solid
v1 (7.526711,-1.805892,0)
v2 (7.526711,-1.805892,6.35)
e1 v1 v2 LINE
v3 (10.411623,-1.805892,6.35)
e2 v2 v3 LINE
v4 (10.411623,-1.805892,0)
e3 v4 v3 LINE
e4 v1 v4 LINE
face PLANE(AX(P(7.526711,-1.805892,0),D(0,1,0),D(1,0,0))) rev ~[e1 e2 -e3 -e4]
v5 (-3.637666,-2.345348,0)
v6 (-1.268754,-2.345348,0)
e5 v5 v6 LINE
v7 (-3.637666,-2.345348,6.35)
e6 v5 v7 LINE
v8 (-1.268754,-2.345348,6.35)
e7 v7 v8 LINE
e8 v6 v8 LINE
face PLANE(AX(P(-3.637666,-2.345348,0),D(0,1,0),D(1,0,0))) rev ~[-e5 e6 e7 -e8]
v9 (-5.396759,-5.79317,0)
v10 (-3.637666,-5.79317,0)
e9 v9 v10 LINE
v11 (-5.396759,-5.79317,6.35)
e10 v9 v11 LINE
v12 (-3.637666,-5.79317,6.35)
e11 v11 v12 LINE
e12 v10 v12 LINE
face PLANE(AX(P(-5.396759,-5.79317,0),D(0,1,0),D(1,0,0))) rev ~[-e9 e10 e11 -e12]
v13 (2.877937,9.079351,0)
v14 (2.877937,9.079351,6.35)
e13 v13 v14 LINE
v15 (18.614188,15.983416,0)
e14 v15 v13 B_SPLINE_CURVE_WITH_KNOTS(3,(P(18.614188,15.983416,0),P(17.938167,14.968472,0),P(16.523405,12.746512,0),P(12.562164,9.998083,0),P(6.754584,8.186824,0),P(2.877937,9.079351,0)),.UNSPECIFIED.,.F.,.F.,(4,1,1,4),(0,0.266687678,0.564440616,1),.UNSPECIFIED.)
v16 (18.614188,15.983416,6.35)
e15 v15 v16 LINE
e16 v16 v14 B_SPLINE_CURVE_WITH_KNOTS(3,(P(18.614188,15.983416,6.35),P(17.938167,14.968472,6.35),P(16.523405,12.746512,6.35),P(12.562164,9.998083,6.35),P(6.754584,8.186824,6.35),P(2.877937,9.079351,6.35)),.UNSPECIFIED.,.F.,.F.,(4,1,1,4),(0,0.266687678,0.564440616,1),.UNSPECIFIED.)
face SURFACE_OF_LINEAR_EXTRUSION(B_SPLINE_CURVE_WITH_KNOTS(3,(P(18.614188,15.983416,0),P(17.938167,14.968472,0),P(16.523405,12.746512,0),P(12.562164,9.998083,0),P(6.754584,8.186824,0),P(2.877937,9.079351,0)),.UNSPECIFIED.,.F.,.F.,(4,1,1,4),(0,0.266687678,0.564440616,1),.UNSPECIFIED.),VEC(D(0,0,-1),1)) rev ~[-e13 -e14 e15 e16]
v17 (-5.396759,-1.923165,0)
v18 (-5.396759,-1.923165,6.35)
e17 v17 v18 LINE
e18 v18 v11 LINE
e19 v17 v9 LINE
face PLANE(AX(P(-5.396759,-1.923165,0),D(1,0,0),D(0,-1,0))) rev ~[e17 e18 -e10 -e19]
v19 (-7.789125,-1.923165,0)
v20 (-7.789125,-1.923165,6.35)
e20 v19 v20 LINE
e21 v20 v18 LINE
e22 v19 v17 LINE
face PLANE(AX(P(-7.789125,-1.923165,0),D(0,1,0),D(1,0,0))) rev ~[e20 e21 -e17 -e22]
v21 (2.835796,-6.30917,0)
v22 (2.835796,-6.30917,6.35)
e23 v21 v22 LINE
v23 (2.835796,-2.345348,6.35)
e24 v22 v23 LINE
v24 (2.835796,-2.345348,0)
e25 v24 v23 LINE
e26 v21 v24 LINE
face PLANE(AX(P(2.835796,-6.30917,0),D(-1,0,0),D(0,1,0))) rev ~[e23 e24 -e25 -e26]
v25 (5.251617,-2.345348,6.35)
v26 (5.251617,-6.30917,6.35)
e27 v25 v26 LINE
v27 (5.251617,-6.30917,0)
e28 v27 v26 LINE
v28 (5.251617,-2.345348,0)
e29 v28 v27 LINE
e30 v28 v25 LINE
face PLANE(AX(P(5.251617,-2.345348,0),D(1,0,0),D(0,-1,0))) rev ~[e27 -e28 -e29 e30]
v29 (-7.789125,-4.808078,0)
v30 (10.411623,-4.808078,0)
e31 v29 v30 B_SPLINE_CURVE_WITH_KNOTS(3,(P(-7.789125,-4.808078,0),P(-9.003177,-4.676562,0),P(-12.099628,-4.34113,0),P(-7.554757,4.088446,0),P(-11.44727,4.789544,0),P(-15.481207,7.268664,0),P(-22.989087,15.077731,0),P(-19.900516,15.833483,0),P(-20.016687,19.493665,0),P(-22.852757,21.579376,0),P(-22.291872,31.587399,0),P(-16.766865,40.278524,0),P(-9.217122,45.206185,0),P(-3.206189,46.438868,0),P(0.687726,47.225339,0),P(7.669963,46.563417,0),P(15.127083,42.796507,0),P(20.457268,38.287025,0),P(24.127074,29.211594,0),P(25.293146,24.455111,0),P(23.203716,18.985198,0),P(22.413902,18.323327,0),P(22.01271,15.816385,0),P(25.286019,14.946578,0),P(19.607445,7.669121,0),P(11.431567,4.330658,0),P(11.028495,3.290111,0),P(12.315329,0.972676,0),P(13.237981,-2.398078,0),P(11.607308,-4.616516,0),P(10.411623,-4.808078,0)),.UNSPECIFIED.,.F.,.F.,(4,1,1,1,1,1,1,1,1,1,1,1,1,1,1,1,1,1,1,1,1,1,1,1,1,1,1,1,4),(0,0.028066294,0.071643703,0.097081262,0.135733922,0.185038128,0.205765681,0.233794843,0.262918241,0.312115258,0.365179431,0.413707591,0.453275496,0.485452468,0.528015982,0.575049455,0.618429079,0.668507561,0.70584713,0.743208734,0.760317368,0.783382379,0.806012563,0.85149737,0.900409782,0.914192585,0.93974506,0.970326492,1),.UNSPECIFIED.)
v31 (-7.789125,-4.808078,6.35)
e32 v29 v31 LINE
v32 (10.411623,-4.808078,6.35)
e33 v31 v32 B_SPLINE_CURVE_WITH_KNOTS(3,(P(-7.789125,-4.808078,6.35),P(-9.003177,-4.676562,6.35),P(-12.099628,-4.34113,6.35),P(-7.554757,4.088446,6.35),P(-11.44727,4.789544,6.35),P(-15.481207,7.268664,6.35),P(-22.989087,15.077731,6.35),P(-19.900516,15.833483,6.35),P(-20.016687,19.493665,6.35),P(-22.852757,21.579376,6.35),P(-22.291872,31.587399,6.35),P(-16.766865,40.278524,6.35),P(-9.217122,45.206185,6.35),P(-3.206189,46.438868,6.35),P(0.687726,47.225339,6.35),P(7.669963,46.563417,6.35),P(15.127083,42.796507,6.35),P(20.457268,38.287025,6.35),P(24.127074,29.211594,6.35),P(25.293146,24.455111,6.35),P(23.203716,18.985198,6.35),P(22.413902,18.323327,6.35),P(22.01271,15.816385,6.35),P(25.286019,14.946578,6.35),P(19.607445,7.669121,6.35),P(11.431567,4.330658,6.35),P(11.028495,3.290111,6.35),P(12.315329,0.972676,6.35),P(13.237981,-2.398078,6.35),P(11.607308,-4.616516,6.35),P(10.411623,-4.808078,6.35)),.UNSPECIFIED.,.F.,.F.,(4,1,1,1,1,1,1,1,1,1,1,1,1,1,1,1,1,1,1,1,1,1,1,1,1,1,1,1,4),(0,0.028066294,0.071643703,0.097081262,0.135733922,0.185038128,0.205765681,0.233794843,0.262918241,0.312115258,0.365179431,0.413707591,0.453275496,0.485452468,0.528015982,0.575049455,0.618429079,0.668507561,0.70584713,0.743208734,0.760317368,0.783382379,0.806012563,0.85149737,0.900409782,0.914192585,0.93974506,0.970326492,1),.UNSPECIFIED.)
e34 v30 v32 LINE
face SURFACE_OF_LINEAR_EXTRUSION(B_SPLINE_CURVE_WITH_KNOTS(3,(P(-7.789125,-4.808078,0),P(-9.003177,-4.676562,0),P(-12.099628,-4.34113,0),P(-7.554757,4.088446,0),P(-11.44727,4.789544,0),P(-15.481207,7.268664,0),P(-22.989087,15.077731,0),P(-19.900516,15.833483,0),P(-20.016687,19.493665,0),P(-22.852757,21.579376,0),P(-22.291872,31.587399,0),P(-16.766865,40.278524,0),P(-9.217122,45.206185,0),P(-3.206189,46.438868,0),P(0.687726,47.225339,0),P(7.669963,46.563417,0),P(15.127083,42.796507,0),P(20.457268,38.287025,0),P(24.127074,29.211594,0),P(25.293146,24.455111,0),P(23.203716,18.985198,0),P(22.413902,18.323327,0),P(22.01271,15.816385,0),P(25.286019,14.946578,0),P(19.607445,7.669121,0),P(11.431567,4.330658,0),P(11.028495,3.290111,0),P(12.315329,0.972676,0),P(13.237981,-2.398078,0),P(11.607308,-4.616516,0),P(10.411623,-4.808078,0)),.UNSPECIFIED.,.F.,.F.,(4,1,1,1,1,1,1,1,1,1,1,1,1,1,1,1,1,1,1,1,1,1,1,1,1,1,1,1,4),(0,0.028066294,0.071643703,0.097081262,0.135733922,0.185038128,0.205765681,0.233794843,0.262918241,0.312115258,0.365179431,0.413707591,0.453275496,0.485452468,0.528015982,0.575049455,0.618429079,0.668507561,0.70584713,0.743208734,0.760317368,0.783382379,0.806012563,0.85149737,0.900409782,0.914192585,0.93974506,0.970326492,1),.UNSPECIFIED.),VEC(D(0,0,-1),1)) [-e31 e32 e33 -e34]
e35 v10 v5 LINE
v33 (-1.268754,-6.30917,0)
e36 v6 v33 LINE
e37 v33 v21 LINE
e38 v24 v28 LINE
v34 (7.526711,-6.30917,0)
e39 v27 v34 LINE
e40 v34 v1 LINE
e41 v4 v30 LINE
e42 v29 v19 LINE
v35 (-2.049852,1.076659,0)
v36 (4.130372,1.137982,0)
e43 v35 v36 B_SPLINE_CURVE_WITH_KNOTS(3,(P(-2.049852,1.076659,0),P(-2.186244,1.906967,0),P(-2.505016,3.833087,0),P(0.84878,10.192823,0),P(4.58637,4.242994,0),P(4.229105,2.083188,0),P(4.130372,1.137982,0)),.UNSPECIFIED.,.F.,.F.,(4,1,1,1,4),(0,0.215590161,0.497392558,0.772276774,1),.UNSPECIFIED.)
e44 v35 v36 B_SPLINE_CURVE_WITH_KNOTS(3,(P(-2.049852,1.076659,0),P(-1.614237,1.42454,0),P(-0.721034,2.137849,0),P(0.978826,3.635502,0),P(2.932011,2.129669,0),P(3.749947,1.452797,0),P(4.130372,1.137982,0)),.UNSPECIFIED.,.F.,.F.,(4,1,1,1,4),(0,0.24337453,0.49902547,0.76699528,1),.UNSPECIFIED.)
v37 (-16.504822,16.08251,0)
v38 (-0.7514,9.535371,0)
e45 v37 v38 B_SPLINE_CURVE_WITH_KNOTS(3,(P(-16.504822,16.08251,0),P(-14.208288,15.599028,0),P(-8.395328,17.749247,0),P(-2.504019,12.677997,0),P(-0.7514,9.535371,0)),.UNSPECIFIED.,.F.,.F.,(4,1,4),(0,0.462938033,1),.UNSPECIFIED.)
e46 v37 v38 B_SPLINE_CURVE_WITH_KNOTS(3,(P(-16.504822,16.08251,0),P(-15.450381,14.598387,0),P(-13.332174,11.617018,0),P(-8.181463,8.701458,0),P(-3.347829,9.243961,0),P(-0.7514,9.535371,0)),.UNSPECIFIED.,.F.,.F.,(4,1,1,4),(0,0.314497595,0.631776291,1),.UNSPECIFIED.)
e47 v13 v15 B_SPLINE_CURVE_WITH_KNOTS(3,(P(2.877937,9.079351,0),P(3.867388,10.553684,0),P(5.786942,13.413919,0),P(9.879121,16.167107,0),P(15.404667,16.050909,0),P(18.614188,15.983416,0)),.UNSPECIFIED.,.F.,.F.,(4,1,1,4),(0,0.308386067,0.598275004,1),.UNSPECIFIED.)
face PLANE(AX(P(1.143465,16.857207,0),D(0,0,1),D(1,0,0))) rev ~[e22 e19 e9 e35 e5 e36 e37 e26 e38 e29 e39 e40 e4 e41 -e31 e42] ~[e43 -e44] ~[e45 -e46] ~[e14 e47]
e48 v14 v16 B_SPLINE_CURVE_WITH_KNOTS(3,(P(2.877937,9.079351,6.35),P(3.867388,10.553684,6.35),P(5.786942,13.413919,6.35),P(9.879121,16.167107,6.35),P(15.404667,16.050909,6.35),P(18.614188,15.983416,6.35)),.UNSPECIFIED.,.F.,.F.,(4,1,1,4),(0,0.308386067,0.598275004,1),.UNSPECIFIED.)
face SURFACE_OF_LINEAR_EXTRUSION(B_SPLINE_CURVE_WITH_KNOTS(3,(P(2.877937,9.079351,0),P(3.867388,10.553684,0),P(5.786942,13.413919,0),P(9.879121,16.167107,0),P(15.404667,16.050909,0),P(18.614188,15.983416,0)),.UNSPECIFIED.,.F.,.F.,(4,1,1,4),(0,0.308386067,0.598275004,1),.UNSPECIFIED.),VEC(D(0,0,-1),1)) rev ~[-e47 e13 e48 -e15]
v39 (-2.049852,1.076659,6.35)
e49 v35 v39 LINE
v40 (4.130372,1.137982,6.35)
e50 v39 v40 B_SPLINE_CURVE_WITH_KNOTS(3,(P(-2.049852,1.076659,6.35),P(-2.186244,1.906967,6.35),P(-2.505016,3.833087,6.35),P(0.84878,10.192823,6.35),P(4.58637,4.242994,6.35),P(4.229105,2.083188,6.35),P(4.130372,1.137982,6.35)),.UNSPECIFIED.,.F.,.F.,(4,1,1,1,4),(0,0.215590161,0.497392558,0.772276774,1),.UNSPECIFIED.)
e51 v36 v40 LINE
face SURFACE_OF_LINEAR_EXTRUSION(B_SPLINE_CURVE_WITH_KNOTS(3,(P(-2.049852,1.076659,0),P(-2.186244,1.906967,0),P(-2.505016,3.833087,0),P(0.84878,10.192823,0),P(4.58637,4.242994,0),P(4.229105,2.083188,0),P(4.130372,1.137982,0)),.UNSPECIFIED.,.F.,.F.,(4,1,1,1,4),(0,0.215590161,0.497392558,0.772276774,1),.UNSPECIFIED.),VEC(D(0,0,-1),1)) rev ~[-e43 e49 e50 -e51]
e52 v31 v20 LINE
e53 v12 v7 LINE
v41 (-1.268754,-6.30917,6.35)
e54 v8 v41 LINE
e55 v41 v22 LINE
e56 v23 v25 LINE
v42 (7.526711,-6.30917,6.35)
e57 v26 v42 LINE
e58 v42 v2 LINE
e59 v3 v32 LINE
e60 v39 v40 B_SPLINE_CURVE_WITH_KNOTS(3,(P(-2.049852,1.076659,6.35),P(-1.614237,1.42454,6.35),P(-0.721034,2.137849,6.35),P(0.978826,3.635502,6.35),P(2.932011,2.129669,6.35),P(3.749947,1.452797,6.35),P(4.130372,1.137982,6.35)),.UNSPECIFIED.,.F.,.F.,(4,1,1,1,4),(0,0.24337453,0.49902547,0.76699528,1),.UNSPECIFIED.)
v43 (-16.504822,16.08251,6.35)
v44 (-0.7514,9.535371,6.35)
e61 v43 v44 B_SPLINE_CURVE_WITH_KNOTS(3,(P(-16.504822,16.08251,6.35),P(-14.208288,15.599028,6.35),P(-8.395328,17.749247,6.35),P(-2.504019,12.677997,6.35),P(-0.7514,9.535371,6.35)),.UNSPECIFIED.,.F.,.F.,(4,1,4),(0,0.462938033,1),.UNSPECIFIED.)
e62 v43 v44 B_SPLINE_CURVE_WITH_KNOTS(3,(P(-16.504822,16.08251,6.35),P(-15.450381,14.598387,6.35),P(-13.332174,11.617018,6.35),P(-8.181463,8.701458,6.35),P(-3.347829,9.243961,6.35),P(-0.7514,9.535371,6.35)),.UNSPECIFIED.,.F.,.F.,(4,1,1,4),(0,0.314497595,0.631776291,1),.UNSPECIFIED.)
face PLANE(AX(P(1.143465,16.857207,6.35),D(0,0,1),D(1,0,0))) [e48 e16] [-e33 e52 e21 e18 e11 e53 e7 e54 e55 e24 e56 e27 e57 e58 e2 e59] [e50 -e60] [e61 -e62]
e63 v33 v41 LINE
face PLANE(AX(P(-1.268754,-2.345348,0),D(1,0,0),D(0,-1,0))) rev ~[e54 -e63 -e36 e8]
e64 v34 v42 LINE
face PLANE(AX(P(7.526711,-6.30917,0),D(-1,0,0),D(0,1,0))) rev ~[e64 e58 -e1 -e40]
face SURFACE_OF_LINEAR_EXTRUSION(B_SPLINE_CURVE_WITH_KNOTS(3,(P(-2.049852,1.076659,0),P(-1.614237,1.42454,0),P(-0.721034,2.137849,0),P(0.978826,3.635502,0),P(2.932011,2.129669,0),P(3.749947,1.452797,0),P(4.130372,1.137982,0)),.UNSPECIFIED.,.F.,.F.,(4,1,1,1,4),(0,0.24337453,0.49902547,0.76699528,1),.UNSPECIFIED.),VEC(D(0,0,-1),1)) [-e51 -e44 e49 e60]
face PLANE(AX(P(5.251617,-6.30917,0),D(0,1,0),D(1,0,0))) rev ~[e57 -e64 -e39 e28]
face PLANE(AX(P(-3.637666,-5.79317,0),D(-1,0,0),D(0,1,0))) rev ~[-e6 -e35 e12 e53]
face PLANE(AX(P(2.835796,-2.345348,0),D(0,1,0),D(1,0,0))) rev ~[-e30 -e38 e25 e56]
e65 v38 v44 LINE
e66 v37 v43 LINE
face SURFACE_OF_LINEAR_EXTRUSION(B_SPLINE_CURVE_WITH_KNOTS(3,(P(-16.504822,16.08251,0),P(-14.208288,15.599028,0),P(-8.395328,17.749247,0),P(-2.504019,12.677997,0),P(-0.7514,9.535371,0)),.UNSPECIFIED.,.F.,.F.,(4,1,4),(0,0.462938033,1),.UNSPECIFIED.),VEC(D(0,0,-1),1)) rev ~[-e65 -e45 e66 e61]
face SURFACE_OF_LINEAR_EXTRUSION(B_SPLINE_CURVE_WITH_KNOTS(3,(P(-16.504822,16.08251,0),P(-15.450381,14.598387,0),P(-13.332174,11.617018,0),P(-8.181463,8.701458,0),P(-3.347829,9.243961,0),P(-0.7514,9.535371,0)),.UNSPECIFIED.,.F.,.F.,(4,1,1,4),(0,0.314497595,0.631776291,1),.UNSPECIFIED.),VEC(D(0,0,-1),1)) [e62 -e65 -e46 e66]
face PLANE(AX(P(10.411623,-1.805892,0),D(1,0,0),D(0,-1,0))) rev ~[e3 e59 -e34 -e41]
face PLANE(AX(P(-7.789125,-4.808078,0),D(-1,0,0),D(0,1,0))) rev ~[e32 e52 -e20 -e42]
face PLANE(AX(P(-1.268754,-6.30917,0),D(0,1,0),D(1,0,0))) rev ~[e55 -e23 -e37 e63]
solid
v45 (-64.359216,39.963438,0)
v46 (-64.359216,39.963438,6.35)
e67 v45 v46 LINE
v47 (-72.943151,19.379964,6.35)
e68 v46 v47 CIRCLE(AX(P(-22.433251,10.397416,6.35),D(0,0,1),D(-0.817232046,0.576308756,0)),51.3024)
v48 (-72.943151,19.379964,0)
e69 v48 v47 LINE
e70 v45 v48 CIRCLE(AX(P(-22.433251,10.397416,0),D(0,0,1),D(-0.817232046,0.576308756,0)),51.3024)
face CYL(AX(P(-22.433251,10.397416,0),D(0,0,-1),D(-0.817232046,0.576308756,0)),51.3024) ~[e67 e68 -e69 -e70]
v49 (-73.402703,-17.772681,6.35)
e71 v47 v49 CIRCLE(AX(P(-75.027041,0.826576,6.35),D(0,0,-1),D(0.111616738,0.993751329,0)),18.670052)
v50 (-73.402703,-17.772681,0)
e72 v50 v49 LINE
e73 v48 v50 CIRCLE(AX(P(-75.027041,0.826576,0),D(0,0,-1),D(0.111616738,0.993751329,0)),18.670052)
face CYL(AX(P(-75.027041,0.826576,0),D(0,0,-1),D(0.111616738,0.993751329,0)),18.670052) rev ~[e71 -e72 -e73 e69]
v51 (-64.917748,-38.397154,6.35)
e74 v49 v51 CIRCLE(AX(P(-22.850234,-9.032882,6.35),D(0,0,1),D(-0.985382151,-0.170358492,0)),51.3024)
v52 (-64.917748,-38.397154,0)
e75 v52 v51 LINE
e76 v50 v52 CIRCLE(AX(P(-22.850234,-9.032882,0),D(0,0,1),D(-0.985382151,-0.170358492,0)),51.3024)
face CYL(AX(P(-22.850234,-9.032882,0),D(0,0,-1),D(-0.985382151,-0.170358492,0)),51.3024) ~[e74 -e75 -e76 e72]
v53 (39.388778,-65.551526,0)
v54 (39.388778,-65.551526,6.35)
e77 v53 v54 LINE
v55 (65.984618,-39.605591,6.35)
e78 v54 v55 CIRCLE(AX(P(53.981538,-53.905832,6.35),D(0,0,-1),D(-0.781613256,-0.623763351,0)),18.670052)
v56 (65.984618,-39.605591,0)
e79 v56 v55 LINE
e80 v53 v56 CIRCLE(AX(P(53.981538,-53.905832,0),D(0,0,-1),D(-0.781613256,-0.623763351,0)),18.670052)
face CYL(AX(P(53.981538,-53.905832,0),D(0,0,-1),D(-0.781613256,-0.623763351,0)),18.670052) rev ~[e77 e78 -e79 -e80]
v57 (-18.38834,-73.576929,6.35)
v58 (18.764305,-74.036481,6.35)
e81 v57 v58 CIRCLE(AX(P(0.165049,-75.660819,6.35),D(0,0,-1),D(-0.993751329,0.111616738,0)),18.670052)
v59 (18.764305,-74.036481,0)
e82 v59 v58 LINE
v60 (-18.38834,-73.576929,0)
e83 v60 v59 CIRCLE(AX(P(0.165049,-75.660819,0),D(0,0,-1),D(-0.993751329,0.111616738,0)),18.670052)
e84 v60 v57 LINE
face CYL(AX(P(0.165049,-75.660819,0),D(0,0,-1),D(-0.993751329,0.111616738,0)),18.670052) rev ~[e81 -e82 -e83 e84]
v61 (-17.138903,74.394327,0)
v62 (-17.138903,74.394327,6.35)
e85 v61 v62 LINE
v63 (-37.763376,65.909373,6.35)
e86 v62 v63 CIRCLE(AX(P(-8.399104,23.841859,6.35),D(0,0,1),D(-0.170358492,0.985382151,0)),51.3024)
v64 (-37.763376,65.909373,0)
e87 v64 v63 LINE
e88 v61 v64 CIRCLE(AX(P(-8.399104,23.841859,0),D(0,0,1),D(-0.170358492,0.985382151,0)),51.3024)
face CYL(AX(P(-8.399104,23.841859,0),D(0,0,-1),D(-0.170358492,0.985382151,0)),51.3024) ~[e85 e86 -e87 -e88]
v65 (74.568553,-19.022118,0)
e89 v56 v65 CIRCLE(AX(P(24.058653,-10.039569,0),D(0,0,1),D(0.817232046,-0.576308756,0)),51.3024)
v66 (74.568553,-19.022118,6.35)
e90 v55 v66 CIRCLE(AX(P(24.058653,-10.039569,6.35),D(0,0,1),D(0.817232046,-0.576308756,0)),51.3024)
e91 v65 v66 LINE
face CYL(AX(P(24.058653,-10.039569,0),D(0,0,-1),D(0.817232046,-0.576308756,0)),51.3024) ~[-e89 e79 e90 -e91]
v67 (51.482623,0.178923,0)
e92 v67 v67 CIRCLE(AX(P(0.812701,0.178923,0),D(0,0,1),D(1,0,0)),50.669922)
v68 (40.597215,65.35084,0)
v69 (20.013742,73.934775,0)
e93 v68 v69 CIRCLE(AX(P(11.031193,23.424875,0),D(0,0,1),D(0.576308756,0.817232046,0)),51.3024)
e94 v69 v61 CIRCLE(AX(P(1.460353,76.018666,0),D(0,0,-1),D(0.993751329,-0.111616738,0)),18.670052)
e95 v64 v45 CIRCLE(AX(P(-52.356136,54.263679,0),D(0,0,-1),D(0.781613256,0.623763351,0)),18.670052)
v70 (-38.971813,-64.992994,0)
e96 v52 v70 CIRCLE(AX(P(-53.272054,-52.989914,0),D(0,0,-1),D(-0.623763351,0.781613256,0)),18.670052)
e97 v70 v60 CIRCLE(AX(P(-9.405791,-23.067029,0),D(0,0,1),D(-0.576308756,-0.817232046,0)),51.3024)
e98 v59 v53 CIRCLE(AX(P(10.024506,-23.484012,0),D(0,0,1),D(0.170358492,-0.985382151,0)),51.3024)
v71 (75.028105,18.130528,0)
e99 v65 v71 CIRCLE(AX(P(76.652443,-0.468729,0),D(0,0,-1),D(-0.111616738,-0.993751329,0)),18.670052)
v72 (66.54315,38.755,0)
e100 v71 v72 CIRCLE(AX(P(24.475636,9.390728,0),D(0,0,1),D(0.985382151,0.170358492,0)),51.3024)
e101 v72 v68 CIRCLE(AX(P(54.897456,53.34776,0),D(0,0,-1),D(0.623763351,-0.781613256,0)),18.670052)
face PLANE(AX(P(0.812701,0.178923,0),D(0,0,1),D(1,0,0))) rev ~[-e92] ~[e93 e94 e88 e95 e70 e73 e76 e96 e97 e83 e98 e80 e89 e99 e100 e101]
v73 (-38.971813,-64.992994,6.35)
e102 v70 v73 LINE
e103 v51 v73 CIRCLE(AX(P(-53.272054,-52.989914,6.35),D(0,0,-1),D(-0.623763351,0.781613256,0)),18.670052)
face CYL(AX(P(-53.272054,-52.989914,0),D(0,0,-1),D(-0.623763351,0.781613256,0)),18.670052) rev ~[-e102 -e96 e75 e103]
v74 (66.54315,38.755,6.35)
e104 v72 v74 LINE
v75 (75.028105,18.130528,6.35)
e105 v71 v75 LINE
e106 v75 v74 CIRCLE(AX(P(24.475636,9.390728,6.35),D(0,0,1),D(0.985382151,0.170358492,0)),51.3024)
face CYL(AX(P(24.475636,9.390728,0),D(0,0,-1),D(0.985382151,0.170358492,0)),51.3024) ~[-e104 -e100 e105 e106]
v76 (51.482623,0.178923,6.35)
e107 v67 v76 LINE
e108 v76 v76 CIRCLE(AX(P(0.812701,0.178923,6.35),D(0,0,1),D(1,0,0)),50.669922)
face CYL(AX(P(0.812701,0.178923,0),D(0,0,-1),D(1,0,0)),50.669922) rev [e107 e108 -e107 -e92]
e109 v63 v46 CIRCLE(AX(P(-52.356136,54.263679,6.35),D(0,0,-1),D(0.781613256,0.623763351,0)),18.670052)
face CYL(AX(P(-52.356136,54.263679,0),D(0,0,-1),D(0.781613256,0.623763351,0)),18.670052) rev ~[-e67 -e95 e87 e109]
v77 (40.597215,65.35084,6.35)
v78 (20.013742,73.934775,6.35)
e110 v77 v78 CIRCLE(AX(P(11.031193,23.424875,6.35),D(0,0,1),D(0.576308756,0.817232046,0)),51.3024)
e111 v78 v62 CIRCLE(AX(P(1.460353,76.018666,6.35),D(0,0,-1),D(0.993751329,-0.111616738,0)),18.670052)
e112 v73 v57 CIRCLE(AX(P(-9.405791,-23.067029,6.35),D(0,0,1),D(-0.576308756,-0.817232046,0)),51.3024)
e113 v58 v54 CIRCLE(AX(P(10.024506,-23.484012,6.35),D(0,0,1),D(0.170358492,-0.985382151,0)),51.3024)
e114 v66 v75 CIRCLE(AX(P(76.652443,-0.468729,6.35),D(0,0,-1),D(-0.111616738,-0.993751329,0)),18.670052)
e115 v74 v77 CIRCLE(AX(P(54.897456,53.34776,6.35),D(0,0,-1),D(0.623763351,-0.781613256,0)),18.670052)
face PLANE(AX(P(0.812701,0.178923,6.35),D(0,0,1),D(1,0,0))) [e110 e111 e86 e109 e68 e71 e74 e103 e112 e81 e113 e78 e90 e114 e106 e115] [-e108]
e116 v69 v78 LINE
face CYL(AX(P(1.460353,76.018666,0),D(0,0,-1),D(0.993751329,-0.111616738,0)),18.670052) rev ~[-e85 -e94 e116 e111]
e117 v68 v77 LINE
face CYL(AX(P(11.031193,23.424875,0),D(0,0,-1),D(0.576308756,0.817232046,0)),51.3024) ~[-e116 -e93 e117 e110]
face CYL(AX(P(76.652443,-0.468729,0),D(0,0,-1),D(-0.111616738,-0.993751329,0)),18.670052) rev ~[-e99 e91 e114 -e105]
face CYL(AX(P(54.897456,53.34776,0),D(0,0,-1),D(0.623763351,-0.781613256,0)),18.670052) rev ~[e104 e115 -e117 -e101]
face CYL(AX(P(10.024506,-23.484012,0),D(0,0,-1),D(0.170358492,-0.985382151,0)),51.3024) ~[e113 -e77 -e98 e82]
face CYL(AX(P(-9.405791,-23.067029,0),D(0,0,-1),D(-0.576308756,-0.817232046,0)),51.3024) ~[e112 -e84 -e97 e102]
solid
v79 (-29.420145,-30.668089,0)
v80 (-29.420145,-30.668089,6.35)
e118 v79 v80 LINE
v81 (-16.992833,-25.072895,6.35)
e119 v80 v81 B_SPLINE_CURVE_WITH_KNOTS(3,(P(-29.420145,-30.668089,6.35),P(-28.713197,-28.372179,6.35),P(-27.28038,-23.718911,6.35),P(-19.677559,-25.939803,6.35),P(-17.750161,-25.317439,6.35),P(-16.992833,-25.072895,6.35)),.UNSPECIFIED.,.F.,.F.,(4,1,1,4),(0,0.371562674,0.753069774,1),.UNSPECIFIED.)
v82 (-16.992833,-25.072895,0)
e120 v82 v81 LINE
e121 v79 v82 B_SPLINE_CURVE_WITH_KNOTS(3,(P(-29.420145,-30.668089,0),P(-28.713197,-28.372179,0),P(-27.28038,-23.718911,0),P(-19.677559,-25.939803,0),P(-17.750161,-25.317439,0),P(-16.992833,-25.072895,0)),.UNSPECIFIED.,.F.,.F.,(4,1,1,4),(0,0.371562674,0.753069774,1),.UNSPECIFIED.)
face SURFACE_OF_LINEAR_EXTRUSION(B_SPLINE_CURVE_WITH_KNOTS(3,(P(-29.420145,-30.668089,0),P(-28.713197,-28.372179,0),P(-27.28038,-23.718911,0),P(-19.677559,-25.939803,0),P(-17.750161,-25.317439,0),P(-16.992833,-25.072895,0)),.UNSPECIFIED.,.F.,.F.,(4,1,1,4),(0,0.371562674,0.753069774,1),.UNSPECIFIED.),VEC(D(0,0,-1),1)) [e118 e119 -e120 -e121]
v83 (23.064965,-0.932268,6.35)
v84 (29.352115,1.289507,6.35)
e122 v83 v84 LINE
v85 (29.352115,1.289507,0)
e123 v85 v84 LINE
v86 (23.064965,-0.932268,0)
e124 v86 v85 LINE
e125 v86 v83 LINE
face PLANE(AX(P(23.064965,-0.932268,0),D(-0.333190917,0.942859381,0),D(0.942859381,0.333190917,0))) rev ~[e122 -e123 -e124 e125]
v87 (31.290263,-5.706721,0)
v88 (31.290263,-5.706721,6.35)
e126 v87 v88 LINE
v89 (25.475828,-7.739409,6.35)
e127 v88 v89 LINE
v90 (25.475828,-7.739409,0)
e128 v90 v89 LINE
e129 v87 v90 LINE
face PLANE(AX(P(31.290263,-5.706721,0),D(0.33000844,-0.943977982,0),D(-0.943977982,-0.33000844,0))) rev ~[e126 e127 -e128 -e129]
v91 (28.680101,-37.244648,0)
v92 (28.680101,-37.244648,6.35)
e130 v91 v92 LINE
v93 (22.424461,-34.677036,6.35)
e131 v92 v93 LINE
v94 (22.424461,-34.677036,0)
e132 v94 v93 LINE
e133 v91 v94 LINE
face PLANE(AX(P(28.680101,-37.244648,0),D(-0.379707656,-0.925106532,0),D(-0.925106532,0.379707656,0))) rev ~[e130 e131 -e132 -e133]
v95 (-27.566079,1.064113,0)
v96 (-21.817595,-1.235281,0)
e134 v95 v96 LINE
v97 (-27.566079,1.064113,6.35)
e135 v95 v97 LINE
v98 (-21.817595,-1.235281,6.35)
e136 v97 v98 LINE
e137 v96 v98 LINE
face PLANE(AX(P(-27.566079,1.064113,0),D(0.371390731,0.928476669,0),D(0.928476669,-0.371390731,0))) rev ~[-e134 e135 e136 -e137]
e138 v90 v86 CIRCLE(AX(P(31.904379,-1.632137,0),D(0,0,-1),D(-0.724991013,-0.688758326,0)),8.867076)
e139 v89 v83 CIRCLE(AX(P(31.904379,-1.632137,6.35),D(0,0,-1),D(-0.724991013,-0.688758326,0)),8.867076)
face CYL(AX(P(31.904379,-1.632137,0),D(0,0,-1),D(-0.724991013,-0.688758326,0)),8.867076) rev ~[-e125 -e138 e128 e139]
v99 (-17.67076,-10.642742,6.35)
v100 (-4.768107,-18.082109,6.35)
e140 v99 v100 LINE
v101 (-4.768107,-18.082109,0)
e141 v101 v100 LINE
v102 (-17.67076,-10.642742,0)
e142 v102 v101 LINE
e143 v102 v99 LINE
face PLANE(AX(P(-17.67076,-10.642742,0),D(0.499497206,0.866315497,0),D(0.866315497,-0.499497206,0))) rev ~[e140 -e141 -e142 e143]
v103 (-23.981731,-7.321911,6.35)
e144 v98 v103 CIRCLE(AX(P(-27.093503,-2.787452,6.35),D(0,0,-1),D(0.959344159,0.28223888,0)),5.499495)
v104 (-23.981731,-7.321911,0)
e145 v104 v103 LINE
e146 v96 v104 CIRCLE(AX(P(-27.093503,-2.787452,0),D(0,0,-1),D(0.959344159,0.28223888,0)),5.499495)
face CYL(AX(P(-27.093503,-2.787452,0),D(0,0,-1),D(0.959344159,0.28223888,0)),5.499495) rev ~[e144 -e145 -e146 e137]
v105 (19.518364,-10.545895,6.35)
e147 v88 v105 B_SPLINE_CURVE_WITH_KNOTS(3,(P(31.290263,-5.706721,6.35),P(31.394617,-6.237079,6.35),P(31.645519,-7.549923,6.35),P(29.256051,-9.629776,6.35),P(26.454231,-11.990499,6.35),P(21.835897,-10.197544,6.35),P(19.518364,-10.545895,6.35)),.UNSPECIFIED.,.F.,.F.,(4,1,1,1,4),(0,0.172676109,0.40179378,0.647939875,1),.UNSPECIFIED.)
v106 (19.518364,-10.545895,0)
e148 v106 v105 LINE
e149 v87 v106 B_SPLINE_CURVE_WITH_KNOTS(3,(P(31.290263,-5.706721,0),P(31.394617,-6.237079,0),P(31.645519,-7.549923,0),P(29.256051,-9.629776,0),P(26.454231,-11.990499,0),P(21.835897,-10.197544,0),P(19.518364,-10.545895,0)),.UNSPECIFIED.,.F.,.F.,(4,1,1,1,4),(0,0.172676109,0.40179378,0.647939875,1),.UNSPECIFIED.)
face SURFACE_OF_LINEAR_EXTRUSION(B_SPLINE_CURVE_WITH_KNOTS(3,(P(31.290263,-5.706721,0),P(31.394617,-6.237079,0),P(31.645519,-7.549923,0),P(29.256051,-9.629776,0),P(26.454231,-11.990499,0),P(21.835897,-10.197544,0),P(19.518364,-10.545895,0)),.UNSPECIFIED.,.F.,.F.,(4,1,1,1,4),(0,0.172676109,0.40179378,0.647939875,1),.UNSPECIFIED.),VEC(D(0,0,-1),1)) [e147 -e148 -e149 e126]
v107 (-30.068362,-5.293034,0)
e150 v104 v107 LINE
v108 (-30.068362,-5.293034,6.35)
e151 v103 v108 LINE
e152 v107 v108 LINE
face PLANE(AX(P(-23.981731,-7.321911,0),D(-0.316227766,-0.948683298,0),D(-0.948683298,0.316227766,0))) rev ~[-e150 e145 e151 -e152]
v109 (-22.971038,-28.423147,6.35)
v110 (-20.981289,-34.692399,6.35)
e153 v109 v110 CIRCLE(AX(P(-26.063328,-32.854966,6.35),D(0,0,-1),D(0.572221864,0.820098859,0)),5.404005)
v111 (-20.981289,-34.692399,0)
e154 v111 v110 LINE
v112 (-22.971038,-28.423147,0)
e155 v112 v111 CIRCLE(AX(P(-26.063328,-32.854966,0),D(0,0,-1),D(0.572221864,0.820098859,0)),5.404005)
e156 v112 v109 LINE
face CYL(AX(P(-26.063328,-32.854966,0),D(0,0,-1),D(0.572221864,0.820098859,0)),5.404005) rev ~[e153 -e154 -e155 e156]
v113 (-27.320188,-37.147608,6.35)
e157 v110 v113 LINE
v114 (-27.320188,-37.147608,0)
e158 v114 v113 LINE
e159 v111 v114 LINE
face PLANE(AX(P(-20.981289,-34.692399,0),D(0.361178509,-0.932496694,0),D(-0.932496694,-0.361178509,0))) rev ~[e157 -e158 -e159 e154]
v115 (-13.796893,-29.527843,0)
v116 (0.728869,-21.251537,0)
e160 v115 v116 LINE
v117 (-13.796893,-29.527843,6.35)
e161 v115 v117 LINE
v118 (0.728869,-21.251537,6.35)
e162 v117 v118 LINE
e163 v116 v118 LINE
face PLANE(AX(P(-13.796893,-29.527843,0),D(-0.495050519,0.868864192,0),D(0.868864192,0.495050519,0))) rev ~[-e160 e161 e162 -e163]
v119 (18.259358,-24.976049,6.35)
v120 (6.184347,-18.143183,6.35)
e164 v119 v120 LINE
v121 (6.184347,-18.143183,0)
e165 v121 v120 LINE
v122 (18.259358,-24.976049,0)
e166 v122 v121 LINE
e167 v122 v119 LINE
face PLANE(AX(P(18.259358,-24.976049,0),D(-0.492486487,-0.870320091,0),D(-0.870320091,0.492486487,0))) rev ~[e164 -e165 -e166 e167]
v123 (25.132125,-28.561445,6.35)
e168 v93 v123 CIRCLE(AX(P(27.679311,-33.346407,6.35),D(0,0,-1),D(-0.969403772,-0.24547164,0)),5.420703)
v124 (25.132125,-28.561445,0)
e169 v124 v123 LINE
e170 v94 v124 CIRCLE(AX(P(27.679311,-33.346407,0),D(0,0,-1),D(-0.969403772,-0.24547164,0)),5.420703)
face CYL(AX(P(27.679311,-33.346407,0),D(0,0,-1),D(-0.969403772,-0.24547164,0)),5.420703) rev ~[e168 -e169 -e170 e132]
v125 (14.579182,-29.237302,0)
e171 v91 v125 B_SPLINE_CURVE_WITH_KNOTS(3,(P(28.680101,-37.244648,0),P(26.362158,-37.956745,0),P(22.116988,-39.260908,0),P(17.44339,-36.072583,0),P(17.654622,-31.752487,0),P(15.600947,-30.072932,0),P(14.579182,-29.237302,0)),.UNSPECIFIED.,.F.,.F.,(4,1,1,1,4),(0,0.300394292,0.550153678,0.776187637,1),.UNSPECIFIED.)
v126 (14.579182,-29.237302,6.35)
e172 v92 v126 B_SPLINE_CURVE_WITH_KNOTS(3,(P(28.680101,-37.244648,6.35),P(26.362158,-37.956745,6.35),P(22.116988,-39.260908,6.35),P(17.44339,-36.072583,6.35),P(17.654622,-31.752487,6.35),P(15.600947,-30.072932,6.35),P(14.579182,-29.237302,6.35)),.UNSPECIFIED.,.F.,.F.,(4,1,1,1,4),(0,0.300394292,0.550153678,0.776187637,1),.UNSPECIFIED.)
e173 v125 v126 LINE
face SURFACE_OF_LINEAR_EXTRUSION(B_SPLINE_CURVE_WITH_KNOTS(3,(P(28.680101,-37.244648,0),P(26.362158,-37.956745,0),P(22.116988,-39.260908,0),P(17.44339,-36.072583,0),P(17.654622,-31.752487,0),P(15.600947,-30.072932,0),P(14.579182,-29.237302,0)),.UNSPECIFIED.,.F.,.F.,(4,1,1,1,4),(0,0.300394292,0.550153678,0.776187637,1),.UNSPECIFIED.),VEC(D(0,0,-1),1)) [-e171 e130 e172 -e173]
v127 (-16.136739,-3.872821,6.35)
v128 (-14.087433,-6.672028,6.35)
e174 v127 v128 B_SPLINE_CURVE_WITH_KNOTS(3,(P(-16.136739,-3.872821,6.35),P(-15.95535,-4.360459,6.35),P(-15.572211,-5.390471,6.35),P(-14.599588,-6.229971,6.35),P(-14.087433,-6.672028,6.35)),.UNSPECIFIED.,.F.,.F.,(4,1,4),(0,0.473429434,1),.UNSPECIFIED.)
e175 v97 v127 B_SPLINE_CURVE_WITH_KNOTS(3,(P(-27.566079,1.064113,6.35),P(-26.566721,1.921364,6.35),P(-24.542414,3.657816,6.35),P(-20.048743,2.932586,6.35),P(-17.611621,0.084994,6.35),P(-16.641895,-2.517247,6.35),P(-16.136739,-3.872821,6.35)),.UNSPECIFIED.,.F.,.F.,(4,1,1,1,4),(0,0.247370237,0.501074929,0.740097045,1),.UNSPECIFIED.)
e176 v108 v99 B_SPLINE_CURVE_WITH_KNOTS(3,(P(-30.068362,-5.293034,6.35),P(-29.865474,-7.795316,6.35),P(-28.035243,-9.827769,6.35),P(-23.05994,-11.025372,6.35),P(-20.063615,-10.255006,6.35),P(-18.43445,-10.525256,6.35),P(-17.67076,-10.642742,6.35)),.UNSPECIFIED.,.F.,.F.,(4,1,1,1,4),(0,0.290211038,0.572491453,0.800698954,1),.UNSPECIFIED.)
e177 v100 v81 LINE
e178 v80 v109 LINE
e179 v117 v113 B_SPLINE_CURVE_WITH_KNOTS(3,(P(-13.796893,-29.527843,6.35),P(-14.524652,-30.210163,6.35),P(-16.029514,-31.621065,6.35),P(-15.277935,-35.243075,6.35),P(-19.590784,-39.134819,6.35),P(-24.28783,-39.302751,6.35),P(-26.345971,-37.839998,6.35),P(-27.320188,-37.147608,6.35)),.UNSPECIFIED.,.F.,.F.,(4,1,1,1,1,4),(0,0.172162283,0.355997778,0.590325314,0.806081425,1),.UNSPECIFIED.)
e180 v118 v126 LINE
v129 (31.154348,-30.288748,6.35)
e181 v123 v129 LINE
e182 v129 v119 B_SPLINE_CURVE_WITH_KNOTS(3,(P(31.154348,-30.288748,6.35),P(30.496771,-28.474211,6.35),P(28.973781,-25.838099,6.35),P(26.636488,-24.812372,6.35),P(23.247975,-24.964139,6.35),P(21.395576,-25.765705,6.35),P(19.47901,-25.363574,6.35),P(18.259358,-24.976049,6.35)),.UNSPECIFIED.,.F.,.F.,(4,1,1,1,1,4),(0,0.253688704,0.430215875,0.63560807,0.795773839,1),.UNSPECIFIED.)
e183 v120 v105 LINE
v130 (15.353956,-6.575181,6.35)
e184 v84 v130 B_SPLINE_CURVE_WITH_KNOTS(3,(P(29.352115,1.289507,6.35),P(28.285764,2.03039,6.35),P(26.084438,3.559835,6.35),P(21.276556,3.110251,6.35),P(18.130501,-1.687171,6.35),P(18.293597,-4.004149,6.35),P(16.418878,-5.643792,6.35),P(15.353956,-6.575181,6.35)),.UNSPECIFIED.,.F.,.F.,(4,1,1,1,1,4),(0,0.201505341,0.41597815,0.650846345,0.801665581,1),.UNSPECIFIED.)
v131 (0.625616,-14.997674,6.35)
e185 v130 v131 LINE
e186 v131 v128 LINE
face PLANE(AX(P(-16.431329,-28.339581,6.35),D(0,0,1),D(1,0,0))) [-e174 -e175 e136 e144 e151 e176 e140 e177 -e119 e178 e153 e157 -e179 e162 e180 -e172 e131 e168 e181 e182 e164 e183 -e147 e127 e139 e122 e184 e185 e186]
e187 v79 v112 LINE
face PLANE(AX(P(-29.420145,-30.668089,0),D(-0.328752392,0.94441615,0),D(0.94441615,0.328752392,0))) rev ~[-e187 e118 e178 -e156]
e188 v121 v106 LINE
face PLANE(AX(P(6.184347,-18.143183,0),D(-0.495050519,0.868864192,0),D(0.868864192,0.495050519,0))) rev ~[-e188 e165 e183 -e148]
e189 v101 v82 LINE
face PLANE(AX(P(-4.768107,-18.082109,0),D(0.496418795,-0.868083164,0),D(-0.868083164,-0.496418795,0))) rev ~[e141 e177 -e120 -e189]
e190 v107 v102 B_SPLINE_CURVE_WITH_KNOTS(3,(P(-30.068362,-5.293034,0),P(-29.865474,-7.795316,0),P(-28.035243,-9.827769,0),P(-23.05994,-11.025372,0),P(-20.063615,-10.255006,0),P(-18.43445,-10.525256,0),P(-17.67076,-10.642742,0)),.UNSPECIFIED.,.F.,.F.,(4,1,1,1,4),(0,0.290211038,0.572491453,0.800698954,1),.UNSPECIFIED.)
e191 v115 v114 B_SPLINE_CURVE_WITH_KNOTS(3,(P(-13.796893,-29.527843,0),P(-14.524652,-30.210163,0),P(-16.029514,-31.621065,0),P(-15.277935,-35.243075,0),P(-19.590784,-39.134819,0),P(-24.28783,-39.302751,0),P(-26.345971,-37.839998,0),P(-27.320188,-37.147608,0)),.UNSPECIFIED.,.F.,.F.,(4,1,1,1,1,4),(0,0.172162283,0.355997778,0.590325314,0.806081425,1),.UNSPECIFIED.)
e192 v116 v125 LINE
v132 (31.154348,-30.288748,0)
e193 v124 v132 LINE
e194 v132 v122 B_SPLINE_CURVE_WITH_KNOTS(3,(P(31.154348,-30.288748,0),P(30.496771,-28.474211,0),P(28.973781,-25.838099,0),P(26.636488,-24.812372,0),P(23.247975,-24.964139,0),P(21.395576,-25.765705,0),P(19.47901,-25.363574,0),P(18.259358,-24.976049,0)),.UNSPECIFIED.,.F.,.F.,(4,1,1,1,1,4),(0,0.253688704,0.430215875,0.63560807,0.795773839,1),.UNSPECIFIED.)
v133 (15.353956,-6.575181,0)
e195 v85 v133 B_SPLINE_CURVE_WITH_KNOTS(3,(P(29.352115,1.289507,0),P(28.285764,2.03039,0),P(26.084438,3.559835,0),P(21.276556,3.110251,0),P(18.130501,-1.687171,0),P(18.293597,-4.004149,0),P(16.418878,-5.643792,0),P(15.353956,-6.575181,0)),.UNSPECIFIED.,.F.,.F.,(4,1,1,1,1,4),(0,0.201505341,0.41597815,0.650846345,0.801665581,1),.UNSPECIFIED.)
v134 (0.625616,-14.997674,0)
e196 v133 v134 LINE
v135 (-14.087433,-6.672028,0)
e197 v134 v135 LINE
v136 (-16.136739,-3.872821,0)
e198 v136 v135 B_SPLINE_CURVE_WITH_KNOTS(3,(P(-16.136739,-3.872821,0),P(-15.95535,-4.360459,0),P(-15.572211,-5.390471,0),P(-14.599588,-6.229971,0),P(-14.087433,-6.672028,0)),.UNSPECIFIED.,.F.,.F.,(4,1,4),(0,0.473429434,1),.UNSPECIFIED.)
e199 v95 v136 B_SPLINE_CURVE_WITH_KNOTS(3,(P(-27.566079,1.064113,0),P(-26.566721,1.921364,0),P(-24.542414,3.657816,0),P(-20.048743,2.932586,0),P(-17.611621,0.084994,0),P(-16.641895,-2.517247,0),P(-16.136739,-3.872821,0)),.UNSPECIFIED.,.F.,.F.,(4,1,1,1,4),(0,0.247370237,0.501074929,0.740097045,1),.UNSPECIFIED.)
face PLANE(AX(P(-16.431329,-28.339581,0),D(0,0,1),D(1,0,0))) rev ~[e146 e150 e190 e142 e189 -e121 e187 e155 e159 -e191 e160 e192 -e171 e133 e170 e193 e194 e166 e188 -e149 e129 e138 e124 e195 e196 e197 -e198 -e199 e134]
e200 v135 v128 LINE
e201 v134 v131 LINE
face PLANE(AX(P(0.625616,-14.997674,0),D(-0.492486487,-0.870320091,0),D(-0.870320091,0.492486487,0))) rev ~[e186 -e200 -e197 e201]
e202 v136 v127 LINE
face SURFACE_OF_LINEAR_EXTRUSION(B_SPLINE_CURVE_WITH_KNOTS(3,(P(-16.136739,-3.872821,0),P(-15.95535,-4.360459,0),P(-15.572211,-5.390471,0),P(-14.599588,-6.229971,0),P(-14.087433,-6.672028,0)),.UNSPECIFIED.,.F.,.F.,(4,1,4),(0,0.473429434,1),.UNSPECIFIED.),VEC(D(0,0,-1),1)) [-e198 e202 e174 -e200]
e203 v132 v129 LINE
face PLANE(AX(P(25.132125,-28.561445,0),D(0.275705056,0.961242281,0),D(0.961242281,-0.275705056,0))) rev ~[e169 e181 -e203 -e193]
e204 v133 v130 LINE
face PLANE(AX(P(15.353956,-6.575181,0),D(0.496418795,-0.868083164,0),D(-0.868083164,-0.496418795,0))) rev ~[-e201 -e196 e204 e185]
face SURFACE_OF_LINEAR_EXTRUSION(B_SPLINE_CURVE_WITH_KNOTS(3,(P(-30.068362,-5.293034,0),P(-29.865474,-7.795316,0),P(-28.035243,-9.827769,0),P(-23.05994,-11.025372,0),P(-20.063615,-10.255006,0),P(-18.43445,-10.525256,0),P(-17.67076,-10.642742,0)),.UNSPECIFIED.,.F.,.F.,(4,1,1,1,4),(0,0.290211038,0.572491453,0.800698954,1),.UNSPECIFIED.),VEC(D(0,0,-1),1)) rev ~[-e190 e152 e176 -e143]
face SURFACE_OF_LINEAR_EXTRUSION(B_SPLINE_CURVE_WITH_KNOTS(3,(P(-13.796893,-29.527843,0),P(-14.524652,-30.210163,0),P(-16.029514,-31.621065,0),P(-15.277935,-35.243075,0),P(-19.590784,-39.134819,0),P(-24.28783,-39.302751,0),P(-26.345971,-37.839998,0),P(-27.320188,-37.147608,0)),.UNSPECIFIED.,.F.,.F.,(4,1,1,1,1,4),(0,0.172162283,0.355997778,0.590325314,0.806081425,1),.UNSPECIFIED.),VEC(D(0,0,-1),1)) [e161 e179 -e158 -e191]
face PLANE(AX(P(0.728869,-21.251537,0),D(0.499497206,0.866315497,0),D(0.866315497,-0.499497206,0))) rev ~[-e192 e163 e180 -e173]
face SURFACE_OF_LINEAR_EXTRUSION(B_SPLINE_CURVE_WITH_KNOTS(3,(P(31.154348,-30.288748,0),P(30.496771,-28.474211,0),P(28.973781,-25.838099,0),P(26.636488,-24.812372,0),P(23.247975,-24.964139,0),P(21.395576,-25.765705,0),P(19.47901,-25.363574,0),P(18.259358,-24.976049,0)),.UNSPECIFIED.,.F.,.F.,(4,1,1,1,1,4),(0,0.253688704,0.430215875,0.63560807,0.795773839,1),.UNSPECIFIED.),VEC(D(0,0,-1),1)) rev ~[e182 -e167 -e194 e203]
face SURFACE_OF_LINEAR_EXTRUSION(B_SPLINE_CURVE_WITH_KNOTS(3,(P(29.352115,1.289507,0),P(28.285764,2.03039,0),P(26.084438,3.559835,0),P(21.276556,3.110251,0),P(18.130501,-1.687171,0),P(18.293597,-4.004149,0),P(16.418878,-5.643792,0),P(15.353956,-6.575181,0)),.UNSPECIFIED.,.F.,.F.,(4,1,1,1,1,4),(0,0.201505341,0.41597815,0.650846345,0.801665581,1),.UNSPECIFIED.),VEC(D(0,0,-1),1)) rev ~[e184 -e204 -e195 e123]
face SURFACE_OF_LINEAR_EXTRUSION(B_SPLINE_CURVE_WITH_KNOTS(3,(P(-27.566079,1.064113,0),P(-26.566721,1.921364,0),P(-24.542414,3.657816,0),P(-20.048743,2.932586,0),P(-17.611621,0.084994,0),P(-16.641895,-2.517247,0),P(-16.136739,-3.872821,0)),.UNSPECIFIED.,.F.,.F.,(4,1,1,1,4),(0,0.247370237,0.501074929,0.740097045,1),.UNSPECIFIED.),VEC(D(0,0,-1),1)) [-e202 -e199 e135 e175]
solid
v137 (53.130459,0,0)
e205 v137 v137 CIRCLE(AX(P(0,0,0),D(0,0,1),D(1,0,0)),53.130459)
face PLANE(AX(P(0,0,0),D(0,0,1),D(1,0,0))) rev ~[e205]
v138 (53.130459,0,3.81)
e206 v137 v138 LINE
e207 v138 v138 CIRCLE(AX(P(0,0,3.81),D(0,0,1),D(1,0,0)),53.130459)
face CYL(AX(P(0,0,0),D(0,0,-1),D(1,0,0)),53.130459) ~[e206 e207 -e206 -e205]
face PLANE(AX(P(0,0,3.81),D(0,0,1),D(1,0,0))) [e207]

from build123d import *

# Parameters (mm, degrees)
F2_DEPTH = 6.35
F1_R     = 50.6699218712
F3_DEPTH = 6.35
F4_R     = 53.1304590157
F5_DEPTH = 3.81


with BuildPart() as f2:
    # F0 (on Top) → F2 (new body)
    with BuildSketch(Plane.XY):
        with BuildLine():
            Line((-4.7681073588, -18.0821087973), (-16.9928334653, -25.0728949904))
            add(Edge.make_bspline(
                [(-29.420144856, -30.6680891663), (-28.7131966155, -28.3721789004), (-27.2803795216, -23.7189111124), (-19.6775594328, -25.9398034085), (-17.7501610468, -25.3174390011), (-16.9928334653, -25.0728949904)],
                knots=[0, 0, 0, 0, 0.3715626744, 0.7530697736, 1, 1, 1, 1], degree=3))
            Line((-29.420144856, -30.6680891663), (-22.9710377753, -28.423147276))
            ThreePointArc((-22.9710377753, -28.423147276), (-20.9125229208, -31.2201927263), (-20.9812894464, -34.6923992038))
            Line((-20.9812894464, -34.6923992038), (-27.3201875389, -37.1476076543))
            add(Edge.make_bspline(
                [(-13.7968929484, -29.5278429985), (-14.5246517573, -30.2101625151), (-16.0295139966, -31.621065225), (-15.2779352796, -35.2430751987), (-19.590783628, -39.1348187708), (-24.2878300099, -39.3027512523), (-26.3459711422, -37.8399983801), (-27.3201875389, -37.1476076543)],
                knots=[0, 0, 0, 0, 0.172162283, 0.3559977777, 0.5903253143, 0.8060814247, 1, 1, 1, 1], degree=3))
            Line((-13.7968929484, -29.5278429985), (0.7288693753, -21.251536714))
            Line((0.7288693753, -21.251536714), (-4.7681073588, -18.0821087973))
        make_face()
        Polygon((0.6256158528, -14.9976743954), (-4.7681073588, -18.0821087973), (0.7288693753, -21.251536714), (6.1843465639, -18.1431834907), align=None)
        with BuildLine():
            Line((15.3539562598, -6.5751806833), (0.6256158528, -14.9976743954))
            Line((0.6256158528, -14.9976743954), (6.1843465639, -18.1431834907))
            Line((6.1843465639, -18.1431834907), (19.5183642209, -10.5458945036))
            add(Edge.make_bspline(
                [(31.2902629375, -5.7067214511), (31.3946169928, -6.237079194), (31.6455194268, -7.5499225398), (29.2560505308, -9.6297760213), (26.4542312056, -11.9904985701), (21.8358971179, -10.1975435391), (19.5183642209, -10.5458945036)],
                knots=[0, 0, 0, 0, 0.1726761089, 0.4017937798, 0.6479398746, 1, 1, 1, 1], degree=3))
            Line((31.2902629375, -5.7067214511), (25.4758279771, -7.7394093387))
            ThreePointArc((25.4758279771, -7.7394093387), (23.546031058, -4.5923847595), (23.0649653822, -0.932267867))
            Line((23.0649653822, -0.932267867), (29.3521154672, 1.2895070249))
            add(Edge.make_bspline(
                [(29.3521154672, 1.2895070249), (28.2857639936, 2.0303903131), (26.0844381582, 3.559834932), (21.2765557854, 3.1102513554), (18.130501395, -1.6871708176), (18.2935974913, -4.0041486612), (16.4188781526, -5.6437920981), (15.3539562598, -6.5751806833)],
                knots=[0, 0, 0, 0, 0.2015053412, 0.4159781504, 0.6508463446, 0.8016655806, 1, 1, 1, 1], degree=3))
        make_face()
        with BuildLine():
            Line((-17.6707599312, -10.6427418068), (-4.7681073588, -18.0821087973))
            Line((-4.7681073588, -18.0821087973), (0.6256158528, -14.9976743954))
            Line((0.6256158528, -14.9976743954), (-14.0874329954, -6.6720275208))
            add(Edge.make_bspline(
                [(-16.136739403, -3.8728208747), (-15.9553502029, -4.3604588757), (-15.5722113713, -5.390470882), (-14.5995878917, -6.2299713069), (-14.0874329954, -6.6720275208)],
                knots=[0, 0, 0, 0, 0.4734294339, 1, 1, 1, 1], degree=3))
            add(Edge.make_bspline(
                [(-27.5660790503, 1.0641132249), (-26.566720976, 1.9213636917), (-24.5424140823, 3.657816395), (-20.0487429301, 2.9325861074), (-17.6116212417, 0.0849936841), (-16.6418949002, -2.5172466661), (-16.136739403, -3.8728208747)],
                knots=[0, 0, 0, 0, 0.2473702371, 0.5010749293, 0.7400970445, 1, 1, 1, 1], degree=3))
            Line((-27.5660790503, 1.0641132249), (-21.8175947666, -1.2352808844))
            ThreePointArc((-21.8175947666, -1.2352808844), (-21.9117985446, -4.6298370786), (-23.981731385, -7.3219113983))
            Line((-23.981731385, -7.3219113983), (-30.0683621317, -5.2930344827))
            add(Edge.make_bspline(
                [(-30.0683621317, -5.2930344827), (-29.8654735088, -7.7953161672), (-28.0352430148, -9.8277694062), (-23.059939866, -11.0253716268), (-20.0636145638, -10.255006043), (-18.4344503807, -10.5252559561), (-17.6707599312, -10.6427418068)],
                knots=[0, 0, 0, 0, 0.2902110381, 0.5724914531, 0.8006989542, 1, 1, 1, 1], degree=3))
        make_face()
        with BuildLine():
            Line((6.1843465639, -18.1431834907), (0.7288693753, -21.251536714))
            Line((0.7288693753, -21.251536714), (14.5791815594, -29.2373020202))
            add(Edge.make_bspline(
                [(28.680101037, -37.2446477413), (26.3621580968, -37.9567452282), (22.1169881126, -39.2609079944), (17.4433903985, -36.0725825091), (17.6546215471, -31.7524873227), (15.6009474844, -30.0729322544), (14.5791815594, -29.2373020202)],
                knots=[0, 0, 0, 0, 0.3003942923, 0.5501536776, 0.7761876375, 1, 1, 1, 1], degree=3))
            Line((28.680101037, -37.2446477413), (22.42446132, -34.6770361066))
            ThreePointArc((22.42446132, -34.6770361066), (22.7226939534, -31.151876354), (25.1321252435, -28.5614449531))
            Line((25.1321252435, -28.5614449531), (31.1543475837, -30.2887484431))
            add(Edge.make_bspline(
                [(31.1543475837, -30.2887484431), (30.4967712082, -28.4742112036), (28.9737810562, -25.8380992755), (26.636488277, -24.8123718709), (23.247974634, -24.9641394011), (21.3955756304, -25.7657048006), (19.4790104172, -25.3635737352), (18.259357661, -24.9760486186)],
                knots=[0, 0, 0, 0, 0.2536887039, 0.4302158747, 0.6356080696, 0.7957738387, 1, 1, 1, 1], degree=3))
            Line((18.259357661, -24.9760486186), (6.1843465639, -18.1431834907))
        make_face()
    extrude(amount=F2_DEPTH)


with BuildPart() as f2b:
    # F0 (on Top) → F2, piece 2 (new body)
    with BuildSketch(Plane.XY):
        with BuildLine():
            Line((-1.2687537819, -2.3453475442), (-1.2687537819, -6.3091702759))
            Line((-1.2687537819, -6.3091702759), (2.8357962146, -6.3091702759))
            Line((2.8357962146, -6.3091702759), (2.8357962146, -2.3453475442))
            Line((2.8357962146, -2.3453475442), (5.2516167052, -2.3453475442))
            Line((5.2516167052, -2.3453475442), (5.2516167052, -6.3091702759))
            Line((5.2516167052, -6.3091702759), (7.5267110951, -6.3091702759))
            Line((7.5267110951, -6.3091702759), (7.5267110951, -1.805892447))
            Line((7.5267110951, -1.805892447), (10.411622934, -1.805892447))
            Line((10.411622934, -1.805892447), (10.411622934, -4.8080775887))
            add(Edge.make_bspline(
                [(-7.7891247347, -4.8080775887), (-9.0031770114, -4.676561857), (-12.0996276175, -4.3411298702), (-7.5547571825, 4.0884455129), (-11.4472701197, 4.7895442969), (-15.4812068697, 7.2686640659), (-22.9890872328, 15.0777313605), (-19.900515955, 15.8334827884), (-20.0166868704, 19.4936651633), (-22.8527573313, 21.5793758461), (-22.2918722874, 31.58739887), (-16.7668645203, 40.2785244168), (-9.2171220128, 45.2061850864), (-3.2061887754, 46.4388680071), (0.6877263486, 47.2253388884), (7.6699630621, 46.5634166657), (15.1270829838, 42.7965071725), (20.4572679831, 38.2870247659), (24.1270744598, 29.2115937484), (25.2931460415, 24.455110952), (23.2037160977, 18.985197815), (22.413902375, 18.3233267734), (22.0127096459, 15.8163848922), (25.2860185303, 14.946577685), (19.607445336, 7.6691211175), (11.4315669122, 4.3306575395), (11.0284945716, 3.2901108608), (12.3153285197, 0.9726755431), (13.2379814793, -2.39807803), (11.6073078254, -4.6165161807), (10.411622934, -4.8080775887)],
                knots=[0, 0, 0, 0, 0.0280662938, 0.0716437026, 0.0970812615, 0.1357339216, 0.1850381275, 0.2057656808, 0.2337948427, 0.2629182406, 0.3121152576, 0.365179431, 0.4137075912, 0.4532754959, 0.485452468, 0.5280159816, 0.5750494546, 0.6184290792, 0.6685075613, 0.70584713, 0.7432087341, 0.7603173682, 0.7833823789, 0.8060125635, 0.8514973696, 0.9004097821, 0.9141925851, 0.9397450598, 0.9703264915, 1, 1, 1, 1], degree=3))
            Line((-7.7891247347, -4.8080775887), (-7.7891247347, -1.9231651677))
            Line((-7.7891247347, -1.9231651677), (-5.3967586718, -1.9231651677))
            Line((-5.3967586718, -1.9231651677), (-5.3967586718, -5.7931696065))
            Line((-5.3967586718, -5.7931696065), (-3.6376656499, -5.7931696065))
            Line((-3.6376656499, -5.7931696065), (-3.6376656499, -2.3453475442))
            Line((-3.6376656499, -2.3453475442), (-1.2687537819, -2.3453475442))
        make_face()
        with BuildLine():
            add(Edge.make_bspline(
                [(-2.0498516969, 1.0766591877), (-1.6142369902, 1.4245398175), (-0.7210341, 2.1378490314), (0.9788257725, 3.6355016863), (2.9320111741, 2.1296688223), (3.7499473414, 1.4527968103), (4.1303718463, 1.1379816569)],
                knots=[0, 0, 0, 0, 0.24337453, 0.4990254696, 0.76699528, 1, 1, 1, 1], degree=3))
            add(Edge.make_bspline(
                [(-2.0498516969, 1.0766591877), (-2.1862441275, 1.9069673171), (-2.5050161924, 3.8330867654), (0.8487801809, 10.1928227938), (4.5863701407, 4.2429937783), (4.2291049428, 2.0831881053), (4.1303718463, 1.1379816569)],
                knots=[0, 0, 0, 0, 0.2155901607, 0.4973925581, 0.7722767741, 1, 1, 1, 1], degree=3))
        make_face(mode=Mode.SUBTRACT)
        with BuildLine():
            add(Edge.make_bspline(
                [(-16.5048222989, 16.0825103521), (-15.4503809283, 14.5983874731), (-13.3321737636, 11.6170176183), (-8.1814625502, 8.7014579523), (-3.3478294541, 9.2439609954), (-0.7514004828, 9.5353713259)],
                knots=[0, 0, 0, 0, 0.3144975948, 0.6317762914, 1, 1, 1, 1], degree=3))
            add(Edge.make_bspline(
                [(-16.5048222989, 16.0825103521), (-14.208287932, 15.5990282074), (-8.3953283913, 17.7492465333), (-2.5040190667, 12.6779973507), (-0.7514004828, 9.5353713259)],
                knots=[0, 0, 0, 0, 0.4629380327, 1, 1, 1, 1], degree=3))
        make_face(mode=Mode.SUBTRACT)
        with BuildLine():
            add(Edge.make_bspline(
                [(18.6141878366, 15.9834157676), (17.9381671977, 14.9684719796), (16.523405335, 12.7465116124), (12.5621641788, 9.9980832744), (6.7545841448, 8.1868236884), (2.8779371642, 9.0793510899)],
                knots=[0, 0, 0, 0, 0.2666876779, 0.5644406158, 1, 1, 1, 1], degree=3))
            add(Edge.make_bspline(
                [(2.8779371642, 9.0793510899), (3.8673880403, 10.5536840702), (5.7869421014, 13.4139189018), (9.8791213475, 16.1671070676), (15.4046665667, 16.0509093734), (18.6141878366, 15.9834157676)],
                knots=[0, 0, 0, 0, 0.308386067, 0.5982750044, 1, 1, 1, 1], degree=3))
        make_face(mode=Mode.SUBTRACT)
    extrude(amount=F2_DEPTH)


with BuildPart() as f3:
    # F1 (on Top) → F3 (new body)
    with BuildSketch(Plane.XY):
        with BuildLine():
            ThreePointArc((-37.7633758651, 65.9093725651), (-39.3187089313, 40.8996848601), (-64.3592157374, 39.9634375942))
            ThreePointArc((-64.3592157374, 39.9634375942), (-69.7831941574, 30.1437838179), (-72.9431509972, 19.3799640983))
            ThreePointArc((-72.9431509972, 19.3799640983), (-56.3584177837, 0.5956577686), (-73.4027031601, -17.7726811889))
            ThreePointArc((-73.4027031601, -17.7726811889), (-70.2944913078, -28.5515568847), (-64.9177483022, -38.3971537096))
            ThreePointArc((-64.9177483022, -38.3971537096), (-39.9080605972, -39.9524867758), (-38.9718133313, -64.9929935819))
            ThreePointArc((-38.9718133313, -64.9929935819), (-29.1521595551, -70.4169720019), (-18.3883398355, -73.5769288417))
            ThreePointArc((-18.3883398355, -73.5769288417), (0.3959664942, -56.9921956282), (18.7643054517, -74.0364810046))
            ThreePointArc((18.7643054517, -74.0364810046), (29.5431811476, -70.9282691523), (39.3887779724, -65.5515261467))
            ThreePointArc((39.3887779724, -65.5515261467), (40.9441110387, -40.5418384417), (65.9846178448, -39.6055911758))
            ThreePointArc((65.9846178448, -39.6055911758), (71.4085962647, -29.7859373996), (74.5685531045, -19.02211768))
            ThreePointArc((74.5685531045, -19.02211768), (57.9838198911, -0.2378113503), (75.0281052674, 18.1305276072))
            ThreePointArc((75.0281052674, 18.1305276072), (71.9198934151, 28.9094033031), (66.5431504096, 38.755000128))
            ThreePointArc((66.5431504096, 38.755000128), (41.5334627046, 40.3103331942), (40.5972154387, 65.3508400003))
            ThreePointArc((40.5972154387, 65.3508400003), (30.7775616624, 70.7748184203), (20.0137419428, 73.93477526))
            ThreePointArc((20.0137419428, 73.93477526), (1.2294356131, 57.3500420466), (-17.1389033444, 74.3943274229))
            ThreePointArc((-17.1389033444, 74.3943274229), (-27.9177790402, 71.2861155706), (-37.7633758651, 65.9093725651))
        make_face()
        with Locations((0.8127010537, 0.1789232092)):
            Circle(F1_R, mode=Mode.SUBTRACT)
    extrude(amount=F3_DEPTH)


with BuildPart() as f5:
    # F4 (on Top) → F5 (new body)
    with BuildSketch(Plane.XY):
        Circle(F4_R)
    extrude(amount=F5_DEPTH)


solid = Compound([f2.part, f2b.part, f3.part, f5.part])
